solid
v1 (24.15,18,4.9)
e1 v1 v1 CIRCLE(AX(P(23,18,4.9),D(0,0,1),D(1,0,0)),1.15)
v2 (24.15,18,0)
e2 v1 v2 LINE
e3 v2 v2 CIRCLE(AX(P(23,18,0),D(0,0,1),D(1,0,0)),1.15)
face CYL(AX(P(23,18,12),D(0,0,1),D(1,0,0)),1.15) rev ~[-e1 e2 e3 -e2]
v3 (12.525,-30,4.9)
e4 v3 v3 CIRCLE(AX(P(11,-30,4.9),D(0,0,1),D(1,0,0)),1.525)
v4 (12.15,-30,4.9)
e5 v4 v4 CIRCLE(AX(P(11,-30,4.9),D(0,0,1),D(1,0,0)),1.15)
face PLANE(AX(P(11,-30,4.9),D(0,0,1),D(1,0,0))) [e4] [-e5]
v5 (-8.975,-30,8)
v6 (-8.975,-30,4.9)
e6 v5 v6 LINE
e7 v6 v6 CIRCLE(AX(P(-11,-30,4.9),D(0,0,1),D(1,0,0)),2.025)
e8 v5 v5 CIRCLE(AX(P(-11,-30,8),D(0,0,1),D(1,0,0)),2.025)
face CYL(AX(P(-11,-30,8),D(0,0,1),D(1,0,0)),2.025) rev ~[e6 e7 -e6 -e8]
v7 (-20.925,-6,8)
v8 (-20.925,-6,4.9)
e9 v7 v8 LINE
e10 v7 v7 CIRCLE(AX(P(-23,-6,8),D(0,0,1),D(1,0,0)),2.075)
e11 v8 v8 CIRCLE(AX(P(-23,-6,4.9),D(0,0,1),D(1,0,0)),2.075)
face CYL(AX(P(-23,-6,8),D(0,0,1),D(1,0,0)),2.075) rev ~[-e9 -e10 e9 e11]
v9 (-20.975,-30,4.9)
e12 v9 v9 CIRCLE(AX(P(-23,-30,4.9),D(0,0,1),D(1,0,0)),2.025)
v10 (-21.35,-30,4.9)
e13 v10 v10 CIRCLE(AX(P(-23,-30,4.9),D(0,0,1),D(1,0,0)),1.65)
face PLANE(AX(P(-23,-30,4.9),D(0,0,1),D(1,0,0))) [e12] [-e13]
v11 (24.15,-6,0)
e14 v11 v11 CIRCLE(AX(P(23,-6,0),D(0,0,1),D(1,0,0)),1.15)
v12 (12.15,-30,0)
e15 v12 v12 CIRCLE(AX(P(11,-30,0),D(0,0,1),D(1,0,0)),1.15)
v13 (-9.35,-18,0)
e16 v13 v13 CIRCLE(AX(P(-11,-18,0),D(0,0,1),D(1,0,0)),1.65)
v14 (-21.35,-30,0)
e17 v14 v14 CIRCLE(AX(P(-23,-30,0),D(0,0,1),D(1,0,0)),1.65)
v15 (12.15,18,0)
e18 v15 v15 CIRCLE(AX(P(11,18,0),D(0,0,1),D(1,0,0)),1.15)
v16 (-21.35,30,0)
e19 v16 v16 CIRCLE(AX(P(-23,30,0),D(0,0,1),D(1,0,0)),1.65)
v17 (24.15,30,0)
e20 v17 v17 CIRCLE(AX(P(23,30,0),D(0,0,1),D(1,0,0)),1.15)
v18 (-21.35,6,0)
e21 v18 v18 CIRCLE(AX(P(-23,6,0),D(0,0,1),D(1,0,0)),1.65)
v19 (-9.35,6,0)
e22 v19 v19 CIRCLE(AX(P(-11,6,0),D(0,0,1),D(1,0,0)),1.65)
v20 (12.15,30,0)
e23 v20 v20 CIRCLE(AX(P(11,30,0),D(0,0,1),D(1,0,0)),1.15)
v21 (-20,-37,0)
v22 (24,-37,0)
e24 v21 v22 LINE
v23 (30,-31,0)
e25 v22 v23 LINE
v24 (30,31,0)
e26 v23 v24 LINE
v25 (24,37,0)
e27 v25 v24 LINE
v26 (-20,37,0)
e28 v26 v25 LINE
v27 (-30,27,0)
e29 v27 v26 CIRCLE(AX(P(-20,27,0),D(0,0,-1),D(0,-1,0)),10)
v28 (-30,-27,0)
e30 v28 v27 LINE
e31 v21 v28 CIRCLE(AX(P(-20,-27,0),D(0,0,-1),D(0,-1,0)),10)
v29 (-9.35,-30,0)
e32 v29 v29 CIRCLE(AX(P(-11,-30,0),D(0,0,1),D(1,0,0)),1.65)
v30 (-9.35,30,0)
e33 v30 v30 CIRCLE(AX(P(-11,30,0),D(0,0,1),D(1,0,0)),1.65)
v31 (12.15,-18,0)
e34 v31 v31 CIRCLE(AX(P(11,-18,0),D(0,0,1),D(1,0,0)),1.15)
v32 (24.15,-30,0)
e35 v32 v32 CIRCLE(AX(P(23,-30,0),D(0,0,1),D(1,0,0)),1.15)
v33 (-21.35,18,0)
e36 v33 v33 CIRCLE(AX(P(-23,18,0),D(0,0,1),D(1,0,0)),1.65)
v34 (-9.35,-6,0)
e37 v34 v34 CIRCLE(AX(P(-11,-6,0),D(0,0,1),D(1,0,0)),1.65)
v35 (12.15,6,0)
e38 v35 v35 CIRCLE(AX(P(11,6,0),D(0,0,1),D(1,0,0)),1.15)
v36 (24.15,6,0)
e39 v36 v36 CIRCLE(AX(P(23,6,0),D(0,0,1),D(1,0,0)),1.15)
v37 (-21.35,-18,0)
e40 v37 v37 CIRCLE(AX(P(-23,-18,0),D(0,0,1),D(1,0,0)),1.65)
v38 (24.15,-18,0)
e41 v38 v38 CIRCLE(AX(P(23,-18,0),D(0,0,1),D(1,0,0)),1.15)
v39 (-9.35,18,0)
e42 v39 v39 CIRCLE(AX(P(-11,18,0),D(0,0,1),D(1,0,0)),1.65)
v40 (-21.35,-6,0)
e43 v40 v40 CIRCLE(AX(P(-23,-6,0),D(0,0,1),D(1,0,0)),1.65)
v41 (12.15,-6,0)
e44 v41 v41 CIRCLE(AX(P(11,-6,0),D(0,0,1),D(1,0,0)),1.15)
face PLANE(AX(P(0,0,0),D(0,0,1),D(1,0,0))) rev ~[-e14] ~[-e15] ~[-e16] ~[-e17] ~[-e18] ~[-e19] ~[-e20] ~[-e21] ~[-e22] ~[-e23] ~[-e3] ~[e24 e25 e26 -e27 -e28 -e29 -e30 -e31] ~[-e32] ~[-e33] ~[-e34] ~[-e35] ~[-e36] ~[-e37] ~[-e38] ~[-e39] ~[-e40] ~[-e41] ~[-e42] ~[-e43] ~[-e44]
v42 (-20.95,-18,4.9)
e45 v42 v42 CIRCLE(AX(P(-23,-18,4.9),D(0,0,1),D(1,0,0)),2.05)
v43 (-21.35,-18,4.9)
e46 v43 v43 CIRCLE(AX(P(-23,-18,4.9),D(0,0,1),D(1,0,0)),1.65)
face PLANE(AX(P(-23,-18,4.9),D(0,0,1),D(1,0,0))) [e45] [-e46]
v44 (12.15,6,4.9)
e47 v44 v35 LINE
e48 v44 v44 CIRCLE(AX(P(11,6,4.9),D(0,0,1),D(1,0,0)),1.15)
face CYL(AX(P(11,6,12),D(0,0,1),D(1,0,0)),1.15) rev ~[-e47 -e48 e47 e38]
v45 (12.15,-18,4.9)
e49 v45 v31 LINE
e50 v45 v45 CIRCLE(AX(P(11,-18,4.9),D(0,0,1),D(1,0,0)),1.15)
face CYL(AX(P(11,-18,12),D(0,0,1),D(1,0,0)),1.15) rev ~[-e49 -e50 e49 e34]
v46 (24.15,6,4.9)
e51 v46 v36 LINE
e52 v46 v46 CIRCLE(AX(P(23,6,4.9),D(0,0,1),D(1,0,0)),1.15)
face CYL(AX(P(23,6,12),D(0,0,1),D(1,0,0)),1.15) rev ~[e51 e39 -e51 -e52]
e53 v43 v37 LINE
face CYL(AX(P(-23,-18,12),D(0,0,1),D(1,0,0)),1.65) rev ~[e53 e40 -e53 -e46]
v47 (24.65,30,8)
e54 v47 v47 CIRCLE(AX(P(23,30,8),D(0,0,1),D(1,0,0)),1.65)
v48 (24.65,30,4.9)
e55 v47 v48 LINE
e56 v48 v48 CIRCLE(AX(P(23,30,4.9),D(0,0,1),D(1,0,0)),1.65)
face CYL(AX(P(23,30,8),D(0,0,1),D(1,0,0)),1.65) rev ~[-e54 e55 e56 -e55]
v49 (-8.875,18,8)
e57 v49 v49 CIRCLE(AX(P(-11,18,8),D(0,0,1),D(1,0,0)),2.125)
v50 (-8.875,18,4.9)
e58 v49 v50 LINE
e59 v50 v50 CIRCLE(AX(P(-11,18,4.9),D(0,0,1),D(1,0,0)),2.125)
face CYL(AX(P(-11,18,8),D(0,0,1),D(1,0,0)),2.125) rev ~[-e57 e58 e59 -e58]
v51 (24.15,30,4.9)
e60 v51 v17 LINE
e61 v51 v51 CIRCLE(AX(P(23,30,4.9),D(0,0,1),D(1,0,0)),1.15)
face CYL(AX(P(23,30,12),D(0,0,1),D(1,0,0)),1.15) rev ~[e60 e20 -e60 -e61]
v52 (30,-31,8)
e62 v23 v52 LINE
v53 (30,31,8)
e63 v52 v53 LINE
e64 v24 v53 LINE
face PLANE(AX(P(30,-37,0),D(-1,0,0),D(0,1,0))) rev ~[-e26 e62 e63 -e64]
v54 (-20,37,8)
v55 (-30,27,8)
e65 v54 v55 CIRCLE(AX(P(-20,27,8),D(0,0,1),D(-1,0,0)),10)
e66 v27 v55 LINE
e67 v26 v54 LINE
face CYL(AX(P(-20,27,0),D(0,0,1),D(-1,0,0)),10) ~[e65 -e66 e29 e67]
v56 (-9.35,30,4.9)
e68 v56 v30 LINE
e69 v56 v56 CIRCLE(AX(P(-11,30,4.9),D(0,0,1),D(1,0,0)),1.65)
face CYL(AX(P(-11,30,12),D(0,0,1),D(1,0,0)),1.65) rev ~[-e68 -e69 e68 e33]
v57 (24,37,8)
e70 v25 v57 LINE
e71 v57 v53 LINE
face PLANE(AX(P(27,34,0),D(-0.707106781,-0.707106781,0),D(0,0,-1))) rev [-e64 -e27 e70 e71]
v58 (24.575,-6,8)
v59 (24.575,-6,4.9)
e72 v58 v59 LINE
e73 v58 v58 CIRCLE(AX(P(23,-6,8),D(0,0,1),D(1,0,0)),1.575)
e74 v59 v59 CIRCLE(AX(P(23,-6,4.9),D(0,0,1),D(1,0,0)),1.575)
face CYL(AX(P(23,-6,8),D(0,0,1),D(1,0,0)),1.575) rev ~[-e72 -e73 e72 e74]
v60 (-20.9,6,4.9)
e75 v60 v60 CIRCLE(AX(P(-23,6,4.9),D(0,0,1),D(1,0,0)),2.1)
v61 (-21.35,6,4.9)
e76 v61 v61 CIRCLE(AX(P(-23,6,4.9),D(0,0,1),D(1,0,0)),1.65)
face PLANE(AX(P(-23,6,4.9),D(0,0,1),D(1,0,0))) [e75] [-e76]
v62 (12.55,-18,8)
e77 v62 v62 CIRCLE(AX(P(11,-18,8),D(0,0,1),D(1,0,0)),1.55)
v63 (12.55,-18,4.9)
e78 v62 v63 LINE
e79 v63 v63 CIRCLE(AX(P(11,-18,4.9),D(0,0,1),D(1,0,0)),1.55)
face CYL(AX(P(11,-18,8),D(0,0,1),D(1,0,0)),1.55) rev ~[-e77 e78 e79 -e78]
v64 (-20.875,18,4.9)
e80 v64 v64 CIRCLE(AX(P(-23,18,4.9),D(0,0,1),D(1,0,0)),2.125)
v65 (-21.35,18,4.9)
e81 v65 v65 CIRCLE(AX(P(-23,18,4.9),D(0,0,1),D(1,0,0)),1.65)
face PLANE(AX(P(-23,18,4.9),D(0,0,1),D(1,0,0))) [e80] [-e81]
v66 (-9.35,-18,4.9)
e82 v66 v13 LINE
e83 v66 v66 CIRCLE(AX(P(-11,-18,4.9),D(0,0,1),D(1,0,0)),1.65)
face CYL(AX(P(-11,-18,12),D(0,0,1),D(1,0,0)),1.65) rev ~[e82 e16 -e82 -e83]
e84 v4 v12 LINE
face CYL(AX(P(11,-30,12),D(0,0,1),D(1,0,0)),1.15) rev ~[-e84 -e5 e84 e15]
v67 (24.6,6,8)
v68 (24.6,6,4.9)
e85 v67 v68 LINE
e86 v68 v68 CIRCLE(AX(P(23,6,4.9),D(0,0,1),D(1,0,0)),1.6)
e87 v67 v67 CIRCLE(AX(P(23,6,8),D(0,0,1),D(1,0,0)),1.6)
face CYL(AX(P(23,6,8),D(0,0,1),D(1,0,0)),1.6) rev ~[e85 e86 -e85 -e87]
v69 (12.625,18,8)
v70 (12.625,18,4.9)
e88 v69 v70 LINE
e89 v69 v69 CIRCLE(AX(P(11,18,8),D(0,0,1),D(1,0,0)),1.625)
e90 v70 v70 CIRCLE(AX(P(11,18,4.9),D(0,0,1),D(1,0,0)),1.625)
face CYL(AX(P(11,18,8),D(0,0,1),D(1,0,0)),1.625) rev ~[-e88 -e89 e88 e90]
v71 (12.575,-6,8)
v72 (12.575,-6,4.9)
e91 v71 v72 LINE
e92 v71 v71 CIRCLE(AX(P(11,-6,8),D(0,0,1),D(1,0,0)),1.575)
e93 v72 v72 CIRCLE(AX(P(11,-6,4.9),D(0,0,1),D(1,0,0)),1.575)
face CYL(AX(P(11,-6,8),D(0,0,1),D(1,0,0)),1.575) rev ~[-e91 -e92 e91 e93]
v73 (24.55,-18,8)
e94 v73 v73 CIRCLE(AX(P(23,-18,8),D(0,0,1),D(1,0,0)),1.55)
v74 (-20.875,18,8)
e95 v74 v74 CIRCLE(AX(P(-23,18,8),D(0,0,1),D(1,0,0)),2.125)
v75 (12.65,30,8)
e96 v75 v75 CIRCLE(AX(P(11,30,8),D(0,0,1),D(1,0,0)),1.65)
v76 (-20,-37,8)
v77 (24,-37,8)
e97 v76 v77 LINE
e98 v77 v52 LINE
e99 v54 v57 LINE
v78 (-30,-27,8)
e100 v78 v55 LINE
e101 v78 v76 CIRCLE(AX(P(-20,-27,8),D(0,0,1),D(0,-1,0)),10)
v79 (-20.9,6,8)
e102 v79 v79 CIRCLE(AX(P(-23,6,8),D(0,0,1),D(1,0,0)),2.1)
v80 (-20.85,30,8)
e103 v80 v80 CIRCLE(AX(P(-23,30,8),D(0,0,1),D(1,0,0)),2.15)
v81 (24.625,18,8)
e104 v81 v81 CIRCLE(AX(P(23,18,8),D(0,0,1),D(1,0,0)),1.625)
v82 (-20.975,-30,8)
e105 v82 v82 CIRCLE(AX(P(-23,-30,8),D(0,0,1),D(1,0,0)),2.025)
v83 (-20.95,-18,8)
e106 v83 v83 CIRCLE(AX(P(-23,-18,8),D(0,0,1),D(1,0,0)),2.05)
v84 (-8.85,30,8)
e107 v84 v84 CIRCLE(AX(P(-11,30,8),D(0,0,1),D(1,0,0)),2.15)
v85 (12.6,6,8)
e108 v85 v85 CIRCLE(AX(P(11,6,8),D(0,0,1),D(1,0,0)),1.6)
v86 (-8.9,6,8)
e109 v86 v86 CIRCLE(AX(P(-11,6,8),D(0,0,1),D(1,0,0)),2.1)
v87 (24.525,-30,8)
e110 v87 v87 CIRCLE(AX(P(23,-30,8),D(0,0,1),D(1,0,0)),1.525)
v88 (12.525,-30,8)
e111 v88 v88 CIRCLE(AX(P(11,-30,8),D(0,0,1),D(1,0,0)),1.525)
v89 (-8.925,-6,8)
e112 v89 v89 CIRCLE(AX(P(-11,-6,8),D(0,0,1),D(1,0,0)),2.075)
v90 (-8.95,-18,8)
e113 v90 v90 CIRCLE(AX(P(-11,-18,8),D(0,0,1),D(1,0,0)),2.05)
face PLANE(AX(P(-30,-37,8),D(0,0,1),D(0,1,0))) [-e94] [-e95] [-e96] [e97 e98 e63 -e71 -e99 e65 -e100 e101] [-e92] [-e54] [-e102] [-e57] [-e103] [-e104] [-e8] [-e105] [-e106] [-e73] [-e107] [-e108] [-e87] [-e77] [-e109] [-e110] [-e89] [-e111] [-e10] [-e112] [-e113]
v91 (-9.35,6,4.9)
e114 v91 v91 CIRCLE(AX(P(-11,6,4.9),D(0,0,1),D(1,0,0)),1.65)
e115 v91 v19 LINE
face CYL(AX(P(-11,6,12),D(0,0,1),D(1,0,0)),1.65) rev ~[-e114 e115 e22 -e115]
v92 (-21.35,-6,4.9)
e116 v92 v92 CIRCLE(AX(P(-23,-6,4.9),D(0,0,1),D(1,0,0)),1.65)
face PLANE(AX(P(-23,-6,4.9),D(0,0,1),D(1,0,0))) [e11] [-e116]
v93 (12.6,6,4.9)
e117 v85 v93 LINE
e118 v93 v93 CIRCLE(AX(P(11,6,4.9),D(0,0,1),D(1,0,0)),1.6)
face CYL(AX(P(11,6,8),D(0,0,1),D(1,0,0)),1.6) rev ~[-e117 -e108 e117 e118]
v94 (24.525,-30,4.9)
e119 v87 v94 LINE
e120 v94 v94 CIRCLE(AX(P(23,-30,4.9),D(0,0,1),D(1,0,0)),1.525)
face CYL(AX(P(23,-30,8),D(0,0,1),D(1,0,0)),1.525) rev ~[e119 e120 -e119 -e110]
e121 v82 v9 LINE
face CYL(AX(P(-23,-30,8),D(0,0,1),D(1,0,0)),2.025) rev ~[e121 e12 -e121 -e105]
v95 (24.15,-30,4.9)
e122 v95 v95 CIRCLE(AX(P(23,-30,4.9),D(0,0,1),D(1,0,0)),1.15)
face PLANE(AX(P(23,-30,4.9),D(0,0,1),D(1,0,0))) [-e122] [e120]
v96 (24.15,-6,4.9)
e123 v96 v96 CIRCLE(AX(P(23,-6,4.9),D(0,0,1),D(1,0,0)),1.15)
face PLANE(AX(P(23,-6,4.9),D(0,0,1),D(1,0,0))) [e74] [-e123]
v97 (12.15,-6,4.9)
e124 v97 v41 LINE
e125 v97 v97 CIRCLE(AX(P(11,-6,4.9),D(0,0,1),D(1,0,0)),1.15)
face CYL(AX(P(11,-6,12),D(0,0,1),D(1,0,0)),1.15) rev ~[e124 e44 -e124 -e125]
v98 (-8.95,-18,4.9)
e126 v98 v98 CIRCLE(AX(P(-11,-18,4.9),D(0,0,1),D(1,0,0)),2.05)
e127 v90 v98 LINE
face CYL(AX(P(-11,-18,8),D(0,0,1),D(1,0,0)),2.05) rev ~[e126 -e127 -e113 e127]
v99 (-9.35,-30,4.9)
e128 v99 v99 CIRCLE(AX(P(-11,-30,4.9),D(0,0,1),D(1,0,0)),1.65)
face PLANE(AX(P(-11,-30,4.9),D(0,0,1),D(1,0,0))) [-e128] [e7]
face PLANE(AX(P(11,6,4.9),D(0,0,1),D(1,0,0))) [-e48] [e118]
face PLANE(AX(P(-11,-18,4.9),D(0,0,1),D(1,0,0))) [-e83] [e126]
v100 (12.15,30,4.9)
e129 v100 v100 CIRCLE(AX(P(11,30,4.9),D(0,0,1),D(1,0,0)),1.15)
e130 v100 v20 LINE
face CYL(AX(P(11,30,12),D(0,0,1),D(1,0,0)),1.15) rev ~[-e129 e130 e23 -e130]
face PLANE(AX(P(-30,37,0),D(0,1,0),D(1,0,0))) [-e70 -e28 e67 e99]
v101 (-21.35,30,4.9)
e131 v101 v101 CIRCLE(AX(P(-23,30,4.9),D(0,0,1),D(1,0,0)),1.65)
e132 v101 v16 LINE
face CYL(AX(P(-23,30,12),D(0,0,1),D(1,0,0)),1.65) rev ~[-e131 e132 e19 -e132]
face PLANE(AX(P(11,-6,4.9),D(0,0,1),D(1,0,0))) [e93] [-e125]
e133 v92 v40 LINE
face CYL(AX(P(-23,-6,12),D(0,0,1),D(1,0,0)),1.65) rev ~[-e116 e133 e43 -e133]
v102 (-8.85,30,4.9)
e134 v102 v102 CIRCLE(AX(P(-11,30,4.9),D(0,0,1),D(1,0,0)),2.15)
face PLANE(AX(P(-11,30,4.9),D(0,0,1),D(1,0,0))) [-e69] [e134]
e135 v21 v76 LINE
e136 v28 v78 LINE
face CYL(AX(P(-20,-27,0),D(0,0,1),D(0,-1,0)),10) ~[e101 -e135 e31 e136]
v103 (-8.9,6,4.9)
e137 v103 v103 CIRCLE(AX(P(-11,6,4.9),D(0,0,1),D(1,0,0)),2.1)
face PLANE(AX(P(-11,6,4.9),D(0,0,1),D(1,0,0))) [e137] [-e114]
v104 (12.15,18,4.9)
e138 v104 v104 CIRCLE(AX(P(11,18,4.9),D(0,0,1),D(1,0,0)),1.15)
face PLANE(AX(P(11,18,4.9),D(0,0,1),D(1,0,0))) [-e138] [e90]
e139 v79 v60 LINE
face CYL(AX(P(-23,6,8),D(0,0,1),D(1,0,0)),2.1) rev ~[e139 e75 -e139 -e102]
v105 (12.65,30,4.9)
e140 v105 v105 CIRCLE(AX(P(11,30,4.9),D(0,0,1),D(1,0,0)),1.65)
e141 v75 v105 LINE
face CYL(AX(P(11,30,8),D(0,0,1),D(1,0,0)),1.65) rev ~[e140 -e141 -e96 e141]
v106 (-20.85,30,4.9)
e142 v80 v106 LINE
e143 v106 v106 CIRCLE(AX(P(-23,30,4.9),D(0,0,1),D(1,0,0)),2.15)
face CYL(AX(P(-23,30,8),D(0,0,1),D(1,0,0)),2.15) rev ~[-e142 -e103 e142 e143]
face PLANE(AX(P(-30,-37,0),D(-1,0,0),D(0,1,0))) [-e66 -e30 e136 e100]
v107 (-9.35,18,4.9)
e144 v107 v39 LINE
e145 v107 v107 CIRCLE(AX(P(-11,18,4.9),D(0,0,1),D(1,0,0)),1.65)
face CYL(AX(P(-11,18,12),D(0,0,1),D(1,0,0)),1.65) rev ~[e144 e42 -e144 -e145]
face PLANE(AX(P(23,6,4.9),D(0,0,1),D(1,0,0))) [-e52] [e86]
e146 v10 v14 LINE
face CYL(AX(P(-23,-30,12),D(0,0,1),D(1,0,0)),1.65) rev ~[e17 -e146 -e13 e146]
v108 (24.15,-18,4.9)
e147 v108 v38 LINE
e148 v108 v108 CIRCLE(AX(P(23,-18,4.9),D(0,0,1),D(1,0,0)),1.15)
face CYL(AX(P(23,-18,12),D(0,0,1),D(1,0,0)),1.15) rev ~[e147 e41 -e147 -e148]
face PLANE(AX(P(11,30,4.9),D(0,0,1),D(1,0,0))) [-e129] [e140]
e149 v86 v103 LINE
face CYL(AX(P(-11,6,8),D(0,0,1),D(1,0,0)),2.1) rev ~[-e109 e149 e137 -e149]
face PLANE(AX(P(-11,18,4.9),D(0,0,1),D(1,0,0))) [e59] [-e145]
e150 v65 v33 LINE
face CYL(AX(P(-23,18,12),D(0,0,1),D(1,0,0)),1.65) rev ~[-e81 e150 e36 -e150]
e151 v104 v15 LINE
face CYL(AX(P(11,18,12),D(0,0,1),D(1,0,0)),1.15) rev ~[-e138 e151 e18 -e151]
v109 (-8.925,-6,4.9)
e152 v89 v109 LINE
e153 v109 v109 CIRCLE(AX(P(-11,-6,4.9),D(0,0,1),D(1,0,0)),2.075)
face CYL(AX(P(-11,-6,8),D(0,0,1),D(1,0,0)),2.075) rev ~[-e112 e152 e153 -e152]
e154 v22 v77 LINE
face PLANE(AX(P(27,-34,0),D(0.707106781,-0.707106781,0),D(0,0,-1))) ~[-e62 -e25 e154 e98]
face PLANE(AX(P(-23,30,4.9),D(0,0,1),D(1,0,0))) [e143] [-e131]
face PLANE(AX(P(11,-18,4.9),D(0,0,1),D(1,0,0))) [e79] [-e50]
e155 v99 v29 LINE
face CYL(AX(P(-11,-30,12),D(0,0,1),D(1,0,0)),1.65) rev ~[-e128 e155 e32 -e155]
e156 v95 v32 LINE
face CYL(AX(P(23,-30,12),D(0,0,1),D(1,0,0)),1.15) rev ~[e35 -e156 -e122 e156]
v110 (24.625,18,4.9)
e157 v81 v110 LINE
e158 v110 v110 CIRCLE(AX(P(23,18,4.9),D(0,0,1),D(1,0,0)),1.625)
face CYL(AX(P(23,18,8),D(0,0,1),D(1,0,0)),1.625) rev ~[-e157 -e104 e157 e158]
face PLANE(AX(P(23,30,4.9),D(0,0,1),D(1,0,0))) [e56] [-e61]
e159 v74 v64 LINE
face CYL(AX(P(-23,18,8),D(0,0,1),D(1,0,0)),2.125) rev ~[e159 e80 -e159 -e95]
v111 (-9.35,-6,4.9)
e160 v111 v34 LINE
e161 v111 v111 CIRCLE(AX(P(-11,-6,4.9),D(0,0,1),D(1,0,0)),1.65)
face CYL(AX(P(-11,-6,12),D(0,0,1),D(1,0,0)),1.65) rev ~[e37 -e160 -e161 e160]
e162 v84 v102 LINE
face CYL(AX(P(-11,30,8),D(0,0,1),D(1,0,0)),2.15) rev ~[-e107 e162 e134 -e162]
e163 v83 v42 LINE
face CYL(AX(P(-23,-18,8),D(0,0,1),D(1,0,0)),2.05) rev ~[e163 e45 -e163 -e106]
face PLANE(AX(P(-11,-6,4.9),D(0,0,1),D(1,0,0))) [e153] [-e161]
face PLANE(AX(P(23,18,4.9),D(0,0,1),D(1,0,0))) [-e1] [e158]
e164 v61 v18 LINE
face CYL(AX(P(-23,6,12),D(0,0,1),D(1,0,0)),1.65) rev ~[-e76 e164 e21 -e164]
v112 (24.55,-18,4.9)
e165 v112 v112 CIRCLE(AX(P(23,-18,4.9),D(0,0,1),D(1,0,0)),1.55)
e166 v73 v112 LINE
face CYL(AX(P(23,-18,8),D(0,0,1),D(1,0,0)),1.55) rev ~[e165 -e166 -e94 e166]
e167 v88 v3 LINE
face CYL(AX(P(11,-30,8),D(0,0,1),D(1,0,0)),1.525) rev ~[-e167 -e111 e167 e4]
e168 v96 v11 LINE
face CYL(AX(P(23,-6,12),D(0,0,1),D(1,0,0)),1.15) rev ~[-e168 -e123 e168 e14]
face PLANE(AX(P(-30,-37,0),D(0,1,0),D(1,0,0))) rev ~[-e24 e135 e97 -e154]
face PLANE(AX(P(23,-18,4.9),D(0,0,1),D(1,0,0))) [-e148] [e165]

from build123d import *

# Parameters (mm, degrees)
SKETCH1_W           = 60
SKETCH1_H           = 74
BOSS_EXTRUDE1_DEPTH = 12
SKETCH3_R           = 1.65
SKETCH3_R_2         = 1.15
CUT_EXTRUDE1_DEPTH  = 50.122296363
CHAMFER1_SIZE       = 6
FILLET1_R           = 10
SKETCH4_R           = 2.9
SKETCH4_R_2         = 2.4
CUT_EXTRUDE2_DEPTH  = 4
SKETCH6_R           = 2.15
SKETCH6_R_2         = 2.125
SKETCH6_R_3         = 2.1
SKETCH6_R_4         = 2.075
SKETCH6_R_5         = 2.05
SKETCH6_R_6         = 2.025
SKETCH6_R_7         = 1.525
SKETCH6_R_8         = 1.55
SKETCH6_R_9         = 1.575
SKETCH6_R_10        = 1.6
SKETCH6_R_11        = 1.625
SKETCH6_R_12        = 1.65
CUT_EXTRUDE3_DEPTH  = 3.1
SKETCH8_W           = 4
SKETCH8_H           = 74
CUT_EXTRUDE4_DEPTH  = 72.505244563


with BuildPart() as part:
    # Sketch1 → Boss-Extrude1 (new body)
    with BuildSketch(Plane.XY):
        Rectangle(SKETCH1_W, SKETCH1_H)
    extrude(amount=BOSS_EXTRUDE1_DEPTH)

    # Sketch3 → Cut-Extrude1 (cut, through all)
    with BuildSketch(Plane.XY.offset(12)):
        with Locations((-23, -30)):
            Circle(SKETCH3_R)
        with Locations((23, -30)):
            Circle(SKETCH3_R_2)
        with Locations((-11, -30)):
            Circle(SKETCH3_R)
        with Locations((-11, -18)):
            Circle(SKETCH3_R)
        with Locations((-11, -6)):
            Circle(SKETCH3_R)
        with Locations((-11, 6)):
            Circle(SKETCH3_R)
        with Locations((-23, -18)):
            Circle(SKETCH3_R)
        with Locations((-23, -6)):
            Circle(SKETCH3_R)
        with Locations((-23, 6)):
            Circle(SKETCH3_R)
        with Locations((11, -30)):
            Circle(SKETCH3_R_2)
        with Locations((11, -18)):
            Circle(SKETCH3_R_2)
        with Locations((11, -6)):
            Circle(SKETCH3_R_2)
        with Locations((11, 6)):
            Circle(SKETCH3_R_2)
        with Locations((23, -18)):
            Circle(SKETCH3_R_2)
        with Locations((23, -6)):
            Circle(SKETCH3_R_2)
        with Locations((23, 6)):
            Circle(SKETCH3_R_2)
        with Locations((-23, 18)):
            Circle(SKETCH3_R)
        with Locations((-11, 18)):
            Circle(SKETCH3_R)
        with Locations((-23, 30)):
            Circle(SKETCH3_R)
        with Locations((-11, 30)):
            Circle(SKETCH3_R)
        with Locations((23, 18)):
            Circle(SKETCH3_R_2)
        with Locations((11, 18)):
            Circle(SKETCH3_R_2)
        with Locations((23, 30)):
            Circle(SKETCH3_R_2)
        with Locations((11, 30)):
            Circle(SKETCH3_R_2)
    extrude(amount=-CUT_EXTRUDE1_DEPTH, mode=Mode.SUBTRACT)

    # Chamfer1
    chamfer1_edges = [part.edges().sort_by_distance(p)[0] for p in [
        (30, 37, 6),
        (30, -37, 6),
    ]]
    chamfer(chamfer1_edges, length=CHAMFER1_SIZE)

    # Fillet1
    fillet1_edges = [part.edges().sort_by_distance(p)[0] for p in [
        (-30, 37, 6),
        (-30, -37, 6),
    ]]
    fillet(fillet1_edges, radius=FILLET1_R)

    # Sketch4 → Cut-Extrude2 (cut)
    with BuildSketch(Plane.XY.offset(12)):
        with Locations((-23, -30)):
            Circle(SKETCH4_R)
        with Locations((-11, -30)):
            Circle(SKETCH4_R)
        with Locations((-11, -18)):
            Circle(SKETCH4_R)
        with Locations((-11, -6)):
            Circle(SKETCH4_R)
        with Locations((-11, 6)):
            Circle(SKETCH4_R)
        with Locations((-23, -18)):
            Circle(SKETCH4_R)
        with Locations((-23, -6)):
            Circle(SKETCH4_R)
        with Locations((-23, 6)):
            Circle(SKETCH4_R)
        with Locations((11, -30)):
            Circle(SKETCH4_R_2)
        with Locations((23, -30)):
            Circle(SKETCH4_R_2)
        with Locations((23, -18)):
            Circle(SKETCH4_R_2)
        with Locations((23, -6)):
            Circle(SKETCH4_R_2)
        with Locations((23, 6)):
            Circle(SKETCH4_R_2)
        with Locations((11, -18)):
            Circle(SKETCH4_R_2)
        with Locations((11, -6)):
            Circle(SKETCH4_R_2)
        with Locations((11, 6)):
            Circle(SKETCH4_R_2)
        with Locations((-23, 18)):
            Circle(SKETCH4_R)
        with Locations((-11, 18)):
            Circle(SKETCH4_R)
        with Locations((-23, 30)):
            Circle(SKETCH4_R)
        with Locations((-11, 30)):
            Circle(SKETCH4_R)
        with Locations((11, 18)):
            Circle(SKETCH4_R_2)
        with Locations((23, 18)):
            Circle(SKETCH4_R_2)
        with Locations((11, 30)):
            Circle(SKETCH4_R_2)
        with Locations((23, 30)):
            Circle(SKETCH4_R_2)
    extrude(amount=-CUT_EXTRUDE2_DEPTH, mode=Mode.SUBTRACT)

    # Sketch6 → Cut-Extrude3 (cut)
    with BuildSketch(Plane.XY.offset(8)):
        with Locations((-23, 30)):
            Circle(SKETCH6_R)
        with Locations((-23, 18)):
            Circle(SKETCH6_R_2)
        with Locations((-23, 6)):
            Circle(SKETCH6_R_3)
        with Locations((-23, -6)):
            Circle(SKETCH6_R_4)
        with Locations((-23, -18)):
            Circle(SKETCH6_R_5)
        with Locations((-23, -30)):
            Circle(SKETCH6_R_6)
        with Locations((-11, 30)):
            Circle(SKETCH6_R)
        with Locations((11, -30)):
            Circle(SKETCH6_R_7)
        with Locations((11, -18)):
            Circle(SKETCH6_R_8)
        with Locations((11, -6)):
            Circle(SKETCH6_R_9)
        with Locations((11, 6)):
            Circle(SKETCH6_R_10)
        with Locations((11, 18)):
            Circle(SKETCH6_R_11)
        with Locations((11, 30)):
            Circle(SKETCH6_R_12)
        with Locations((-11, 18)):
            Circle(SKETCH6_R_2)
        with Locations((-11, 6)):
            Circle(SKETCH6_R_3)
        with Locations((-11, -6)):
            Circle(SKETCH6_R_4)
        with Locations((-11, -18)):
            Circle(SKETCH6_R_5)
        with Locations((-11, -30)):
            Circle(SKETCH6_R_6)
        with Locations((23, -30)):
            Circle(SKETCH6_R_7)
        with Locations((23, -18)):
            Circle(SKETCH6_R_8)
        with Locations((23, -6)):
            Circle(SKETCH6_R_9)
        with Locations((23, 6)):
            Circle(SKETCH6_R_10)
        with Locations((23, 18)):
            Circle(SKETCH6_R_11)
        with Locations((23, 30)):
            Circle(SKETCH6_R_12)
    extrude(amount=-CUT_EXTRUDE3_DEPTH, mode=Mode.SUBTRACT)

    # Sketch8 → Cut-Extrude4 (cut, through all)
    with BuildSketch(Plane.ZY.offset(30)):
        with Locations((10, 0)):
            Rectangle(SKETCH8_W, SKETCH8_H)
    extrude(amount=-CUT_EXTRUDE4_DEPTH, mode=Mode.SUBTRACT)


solid = part.part
